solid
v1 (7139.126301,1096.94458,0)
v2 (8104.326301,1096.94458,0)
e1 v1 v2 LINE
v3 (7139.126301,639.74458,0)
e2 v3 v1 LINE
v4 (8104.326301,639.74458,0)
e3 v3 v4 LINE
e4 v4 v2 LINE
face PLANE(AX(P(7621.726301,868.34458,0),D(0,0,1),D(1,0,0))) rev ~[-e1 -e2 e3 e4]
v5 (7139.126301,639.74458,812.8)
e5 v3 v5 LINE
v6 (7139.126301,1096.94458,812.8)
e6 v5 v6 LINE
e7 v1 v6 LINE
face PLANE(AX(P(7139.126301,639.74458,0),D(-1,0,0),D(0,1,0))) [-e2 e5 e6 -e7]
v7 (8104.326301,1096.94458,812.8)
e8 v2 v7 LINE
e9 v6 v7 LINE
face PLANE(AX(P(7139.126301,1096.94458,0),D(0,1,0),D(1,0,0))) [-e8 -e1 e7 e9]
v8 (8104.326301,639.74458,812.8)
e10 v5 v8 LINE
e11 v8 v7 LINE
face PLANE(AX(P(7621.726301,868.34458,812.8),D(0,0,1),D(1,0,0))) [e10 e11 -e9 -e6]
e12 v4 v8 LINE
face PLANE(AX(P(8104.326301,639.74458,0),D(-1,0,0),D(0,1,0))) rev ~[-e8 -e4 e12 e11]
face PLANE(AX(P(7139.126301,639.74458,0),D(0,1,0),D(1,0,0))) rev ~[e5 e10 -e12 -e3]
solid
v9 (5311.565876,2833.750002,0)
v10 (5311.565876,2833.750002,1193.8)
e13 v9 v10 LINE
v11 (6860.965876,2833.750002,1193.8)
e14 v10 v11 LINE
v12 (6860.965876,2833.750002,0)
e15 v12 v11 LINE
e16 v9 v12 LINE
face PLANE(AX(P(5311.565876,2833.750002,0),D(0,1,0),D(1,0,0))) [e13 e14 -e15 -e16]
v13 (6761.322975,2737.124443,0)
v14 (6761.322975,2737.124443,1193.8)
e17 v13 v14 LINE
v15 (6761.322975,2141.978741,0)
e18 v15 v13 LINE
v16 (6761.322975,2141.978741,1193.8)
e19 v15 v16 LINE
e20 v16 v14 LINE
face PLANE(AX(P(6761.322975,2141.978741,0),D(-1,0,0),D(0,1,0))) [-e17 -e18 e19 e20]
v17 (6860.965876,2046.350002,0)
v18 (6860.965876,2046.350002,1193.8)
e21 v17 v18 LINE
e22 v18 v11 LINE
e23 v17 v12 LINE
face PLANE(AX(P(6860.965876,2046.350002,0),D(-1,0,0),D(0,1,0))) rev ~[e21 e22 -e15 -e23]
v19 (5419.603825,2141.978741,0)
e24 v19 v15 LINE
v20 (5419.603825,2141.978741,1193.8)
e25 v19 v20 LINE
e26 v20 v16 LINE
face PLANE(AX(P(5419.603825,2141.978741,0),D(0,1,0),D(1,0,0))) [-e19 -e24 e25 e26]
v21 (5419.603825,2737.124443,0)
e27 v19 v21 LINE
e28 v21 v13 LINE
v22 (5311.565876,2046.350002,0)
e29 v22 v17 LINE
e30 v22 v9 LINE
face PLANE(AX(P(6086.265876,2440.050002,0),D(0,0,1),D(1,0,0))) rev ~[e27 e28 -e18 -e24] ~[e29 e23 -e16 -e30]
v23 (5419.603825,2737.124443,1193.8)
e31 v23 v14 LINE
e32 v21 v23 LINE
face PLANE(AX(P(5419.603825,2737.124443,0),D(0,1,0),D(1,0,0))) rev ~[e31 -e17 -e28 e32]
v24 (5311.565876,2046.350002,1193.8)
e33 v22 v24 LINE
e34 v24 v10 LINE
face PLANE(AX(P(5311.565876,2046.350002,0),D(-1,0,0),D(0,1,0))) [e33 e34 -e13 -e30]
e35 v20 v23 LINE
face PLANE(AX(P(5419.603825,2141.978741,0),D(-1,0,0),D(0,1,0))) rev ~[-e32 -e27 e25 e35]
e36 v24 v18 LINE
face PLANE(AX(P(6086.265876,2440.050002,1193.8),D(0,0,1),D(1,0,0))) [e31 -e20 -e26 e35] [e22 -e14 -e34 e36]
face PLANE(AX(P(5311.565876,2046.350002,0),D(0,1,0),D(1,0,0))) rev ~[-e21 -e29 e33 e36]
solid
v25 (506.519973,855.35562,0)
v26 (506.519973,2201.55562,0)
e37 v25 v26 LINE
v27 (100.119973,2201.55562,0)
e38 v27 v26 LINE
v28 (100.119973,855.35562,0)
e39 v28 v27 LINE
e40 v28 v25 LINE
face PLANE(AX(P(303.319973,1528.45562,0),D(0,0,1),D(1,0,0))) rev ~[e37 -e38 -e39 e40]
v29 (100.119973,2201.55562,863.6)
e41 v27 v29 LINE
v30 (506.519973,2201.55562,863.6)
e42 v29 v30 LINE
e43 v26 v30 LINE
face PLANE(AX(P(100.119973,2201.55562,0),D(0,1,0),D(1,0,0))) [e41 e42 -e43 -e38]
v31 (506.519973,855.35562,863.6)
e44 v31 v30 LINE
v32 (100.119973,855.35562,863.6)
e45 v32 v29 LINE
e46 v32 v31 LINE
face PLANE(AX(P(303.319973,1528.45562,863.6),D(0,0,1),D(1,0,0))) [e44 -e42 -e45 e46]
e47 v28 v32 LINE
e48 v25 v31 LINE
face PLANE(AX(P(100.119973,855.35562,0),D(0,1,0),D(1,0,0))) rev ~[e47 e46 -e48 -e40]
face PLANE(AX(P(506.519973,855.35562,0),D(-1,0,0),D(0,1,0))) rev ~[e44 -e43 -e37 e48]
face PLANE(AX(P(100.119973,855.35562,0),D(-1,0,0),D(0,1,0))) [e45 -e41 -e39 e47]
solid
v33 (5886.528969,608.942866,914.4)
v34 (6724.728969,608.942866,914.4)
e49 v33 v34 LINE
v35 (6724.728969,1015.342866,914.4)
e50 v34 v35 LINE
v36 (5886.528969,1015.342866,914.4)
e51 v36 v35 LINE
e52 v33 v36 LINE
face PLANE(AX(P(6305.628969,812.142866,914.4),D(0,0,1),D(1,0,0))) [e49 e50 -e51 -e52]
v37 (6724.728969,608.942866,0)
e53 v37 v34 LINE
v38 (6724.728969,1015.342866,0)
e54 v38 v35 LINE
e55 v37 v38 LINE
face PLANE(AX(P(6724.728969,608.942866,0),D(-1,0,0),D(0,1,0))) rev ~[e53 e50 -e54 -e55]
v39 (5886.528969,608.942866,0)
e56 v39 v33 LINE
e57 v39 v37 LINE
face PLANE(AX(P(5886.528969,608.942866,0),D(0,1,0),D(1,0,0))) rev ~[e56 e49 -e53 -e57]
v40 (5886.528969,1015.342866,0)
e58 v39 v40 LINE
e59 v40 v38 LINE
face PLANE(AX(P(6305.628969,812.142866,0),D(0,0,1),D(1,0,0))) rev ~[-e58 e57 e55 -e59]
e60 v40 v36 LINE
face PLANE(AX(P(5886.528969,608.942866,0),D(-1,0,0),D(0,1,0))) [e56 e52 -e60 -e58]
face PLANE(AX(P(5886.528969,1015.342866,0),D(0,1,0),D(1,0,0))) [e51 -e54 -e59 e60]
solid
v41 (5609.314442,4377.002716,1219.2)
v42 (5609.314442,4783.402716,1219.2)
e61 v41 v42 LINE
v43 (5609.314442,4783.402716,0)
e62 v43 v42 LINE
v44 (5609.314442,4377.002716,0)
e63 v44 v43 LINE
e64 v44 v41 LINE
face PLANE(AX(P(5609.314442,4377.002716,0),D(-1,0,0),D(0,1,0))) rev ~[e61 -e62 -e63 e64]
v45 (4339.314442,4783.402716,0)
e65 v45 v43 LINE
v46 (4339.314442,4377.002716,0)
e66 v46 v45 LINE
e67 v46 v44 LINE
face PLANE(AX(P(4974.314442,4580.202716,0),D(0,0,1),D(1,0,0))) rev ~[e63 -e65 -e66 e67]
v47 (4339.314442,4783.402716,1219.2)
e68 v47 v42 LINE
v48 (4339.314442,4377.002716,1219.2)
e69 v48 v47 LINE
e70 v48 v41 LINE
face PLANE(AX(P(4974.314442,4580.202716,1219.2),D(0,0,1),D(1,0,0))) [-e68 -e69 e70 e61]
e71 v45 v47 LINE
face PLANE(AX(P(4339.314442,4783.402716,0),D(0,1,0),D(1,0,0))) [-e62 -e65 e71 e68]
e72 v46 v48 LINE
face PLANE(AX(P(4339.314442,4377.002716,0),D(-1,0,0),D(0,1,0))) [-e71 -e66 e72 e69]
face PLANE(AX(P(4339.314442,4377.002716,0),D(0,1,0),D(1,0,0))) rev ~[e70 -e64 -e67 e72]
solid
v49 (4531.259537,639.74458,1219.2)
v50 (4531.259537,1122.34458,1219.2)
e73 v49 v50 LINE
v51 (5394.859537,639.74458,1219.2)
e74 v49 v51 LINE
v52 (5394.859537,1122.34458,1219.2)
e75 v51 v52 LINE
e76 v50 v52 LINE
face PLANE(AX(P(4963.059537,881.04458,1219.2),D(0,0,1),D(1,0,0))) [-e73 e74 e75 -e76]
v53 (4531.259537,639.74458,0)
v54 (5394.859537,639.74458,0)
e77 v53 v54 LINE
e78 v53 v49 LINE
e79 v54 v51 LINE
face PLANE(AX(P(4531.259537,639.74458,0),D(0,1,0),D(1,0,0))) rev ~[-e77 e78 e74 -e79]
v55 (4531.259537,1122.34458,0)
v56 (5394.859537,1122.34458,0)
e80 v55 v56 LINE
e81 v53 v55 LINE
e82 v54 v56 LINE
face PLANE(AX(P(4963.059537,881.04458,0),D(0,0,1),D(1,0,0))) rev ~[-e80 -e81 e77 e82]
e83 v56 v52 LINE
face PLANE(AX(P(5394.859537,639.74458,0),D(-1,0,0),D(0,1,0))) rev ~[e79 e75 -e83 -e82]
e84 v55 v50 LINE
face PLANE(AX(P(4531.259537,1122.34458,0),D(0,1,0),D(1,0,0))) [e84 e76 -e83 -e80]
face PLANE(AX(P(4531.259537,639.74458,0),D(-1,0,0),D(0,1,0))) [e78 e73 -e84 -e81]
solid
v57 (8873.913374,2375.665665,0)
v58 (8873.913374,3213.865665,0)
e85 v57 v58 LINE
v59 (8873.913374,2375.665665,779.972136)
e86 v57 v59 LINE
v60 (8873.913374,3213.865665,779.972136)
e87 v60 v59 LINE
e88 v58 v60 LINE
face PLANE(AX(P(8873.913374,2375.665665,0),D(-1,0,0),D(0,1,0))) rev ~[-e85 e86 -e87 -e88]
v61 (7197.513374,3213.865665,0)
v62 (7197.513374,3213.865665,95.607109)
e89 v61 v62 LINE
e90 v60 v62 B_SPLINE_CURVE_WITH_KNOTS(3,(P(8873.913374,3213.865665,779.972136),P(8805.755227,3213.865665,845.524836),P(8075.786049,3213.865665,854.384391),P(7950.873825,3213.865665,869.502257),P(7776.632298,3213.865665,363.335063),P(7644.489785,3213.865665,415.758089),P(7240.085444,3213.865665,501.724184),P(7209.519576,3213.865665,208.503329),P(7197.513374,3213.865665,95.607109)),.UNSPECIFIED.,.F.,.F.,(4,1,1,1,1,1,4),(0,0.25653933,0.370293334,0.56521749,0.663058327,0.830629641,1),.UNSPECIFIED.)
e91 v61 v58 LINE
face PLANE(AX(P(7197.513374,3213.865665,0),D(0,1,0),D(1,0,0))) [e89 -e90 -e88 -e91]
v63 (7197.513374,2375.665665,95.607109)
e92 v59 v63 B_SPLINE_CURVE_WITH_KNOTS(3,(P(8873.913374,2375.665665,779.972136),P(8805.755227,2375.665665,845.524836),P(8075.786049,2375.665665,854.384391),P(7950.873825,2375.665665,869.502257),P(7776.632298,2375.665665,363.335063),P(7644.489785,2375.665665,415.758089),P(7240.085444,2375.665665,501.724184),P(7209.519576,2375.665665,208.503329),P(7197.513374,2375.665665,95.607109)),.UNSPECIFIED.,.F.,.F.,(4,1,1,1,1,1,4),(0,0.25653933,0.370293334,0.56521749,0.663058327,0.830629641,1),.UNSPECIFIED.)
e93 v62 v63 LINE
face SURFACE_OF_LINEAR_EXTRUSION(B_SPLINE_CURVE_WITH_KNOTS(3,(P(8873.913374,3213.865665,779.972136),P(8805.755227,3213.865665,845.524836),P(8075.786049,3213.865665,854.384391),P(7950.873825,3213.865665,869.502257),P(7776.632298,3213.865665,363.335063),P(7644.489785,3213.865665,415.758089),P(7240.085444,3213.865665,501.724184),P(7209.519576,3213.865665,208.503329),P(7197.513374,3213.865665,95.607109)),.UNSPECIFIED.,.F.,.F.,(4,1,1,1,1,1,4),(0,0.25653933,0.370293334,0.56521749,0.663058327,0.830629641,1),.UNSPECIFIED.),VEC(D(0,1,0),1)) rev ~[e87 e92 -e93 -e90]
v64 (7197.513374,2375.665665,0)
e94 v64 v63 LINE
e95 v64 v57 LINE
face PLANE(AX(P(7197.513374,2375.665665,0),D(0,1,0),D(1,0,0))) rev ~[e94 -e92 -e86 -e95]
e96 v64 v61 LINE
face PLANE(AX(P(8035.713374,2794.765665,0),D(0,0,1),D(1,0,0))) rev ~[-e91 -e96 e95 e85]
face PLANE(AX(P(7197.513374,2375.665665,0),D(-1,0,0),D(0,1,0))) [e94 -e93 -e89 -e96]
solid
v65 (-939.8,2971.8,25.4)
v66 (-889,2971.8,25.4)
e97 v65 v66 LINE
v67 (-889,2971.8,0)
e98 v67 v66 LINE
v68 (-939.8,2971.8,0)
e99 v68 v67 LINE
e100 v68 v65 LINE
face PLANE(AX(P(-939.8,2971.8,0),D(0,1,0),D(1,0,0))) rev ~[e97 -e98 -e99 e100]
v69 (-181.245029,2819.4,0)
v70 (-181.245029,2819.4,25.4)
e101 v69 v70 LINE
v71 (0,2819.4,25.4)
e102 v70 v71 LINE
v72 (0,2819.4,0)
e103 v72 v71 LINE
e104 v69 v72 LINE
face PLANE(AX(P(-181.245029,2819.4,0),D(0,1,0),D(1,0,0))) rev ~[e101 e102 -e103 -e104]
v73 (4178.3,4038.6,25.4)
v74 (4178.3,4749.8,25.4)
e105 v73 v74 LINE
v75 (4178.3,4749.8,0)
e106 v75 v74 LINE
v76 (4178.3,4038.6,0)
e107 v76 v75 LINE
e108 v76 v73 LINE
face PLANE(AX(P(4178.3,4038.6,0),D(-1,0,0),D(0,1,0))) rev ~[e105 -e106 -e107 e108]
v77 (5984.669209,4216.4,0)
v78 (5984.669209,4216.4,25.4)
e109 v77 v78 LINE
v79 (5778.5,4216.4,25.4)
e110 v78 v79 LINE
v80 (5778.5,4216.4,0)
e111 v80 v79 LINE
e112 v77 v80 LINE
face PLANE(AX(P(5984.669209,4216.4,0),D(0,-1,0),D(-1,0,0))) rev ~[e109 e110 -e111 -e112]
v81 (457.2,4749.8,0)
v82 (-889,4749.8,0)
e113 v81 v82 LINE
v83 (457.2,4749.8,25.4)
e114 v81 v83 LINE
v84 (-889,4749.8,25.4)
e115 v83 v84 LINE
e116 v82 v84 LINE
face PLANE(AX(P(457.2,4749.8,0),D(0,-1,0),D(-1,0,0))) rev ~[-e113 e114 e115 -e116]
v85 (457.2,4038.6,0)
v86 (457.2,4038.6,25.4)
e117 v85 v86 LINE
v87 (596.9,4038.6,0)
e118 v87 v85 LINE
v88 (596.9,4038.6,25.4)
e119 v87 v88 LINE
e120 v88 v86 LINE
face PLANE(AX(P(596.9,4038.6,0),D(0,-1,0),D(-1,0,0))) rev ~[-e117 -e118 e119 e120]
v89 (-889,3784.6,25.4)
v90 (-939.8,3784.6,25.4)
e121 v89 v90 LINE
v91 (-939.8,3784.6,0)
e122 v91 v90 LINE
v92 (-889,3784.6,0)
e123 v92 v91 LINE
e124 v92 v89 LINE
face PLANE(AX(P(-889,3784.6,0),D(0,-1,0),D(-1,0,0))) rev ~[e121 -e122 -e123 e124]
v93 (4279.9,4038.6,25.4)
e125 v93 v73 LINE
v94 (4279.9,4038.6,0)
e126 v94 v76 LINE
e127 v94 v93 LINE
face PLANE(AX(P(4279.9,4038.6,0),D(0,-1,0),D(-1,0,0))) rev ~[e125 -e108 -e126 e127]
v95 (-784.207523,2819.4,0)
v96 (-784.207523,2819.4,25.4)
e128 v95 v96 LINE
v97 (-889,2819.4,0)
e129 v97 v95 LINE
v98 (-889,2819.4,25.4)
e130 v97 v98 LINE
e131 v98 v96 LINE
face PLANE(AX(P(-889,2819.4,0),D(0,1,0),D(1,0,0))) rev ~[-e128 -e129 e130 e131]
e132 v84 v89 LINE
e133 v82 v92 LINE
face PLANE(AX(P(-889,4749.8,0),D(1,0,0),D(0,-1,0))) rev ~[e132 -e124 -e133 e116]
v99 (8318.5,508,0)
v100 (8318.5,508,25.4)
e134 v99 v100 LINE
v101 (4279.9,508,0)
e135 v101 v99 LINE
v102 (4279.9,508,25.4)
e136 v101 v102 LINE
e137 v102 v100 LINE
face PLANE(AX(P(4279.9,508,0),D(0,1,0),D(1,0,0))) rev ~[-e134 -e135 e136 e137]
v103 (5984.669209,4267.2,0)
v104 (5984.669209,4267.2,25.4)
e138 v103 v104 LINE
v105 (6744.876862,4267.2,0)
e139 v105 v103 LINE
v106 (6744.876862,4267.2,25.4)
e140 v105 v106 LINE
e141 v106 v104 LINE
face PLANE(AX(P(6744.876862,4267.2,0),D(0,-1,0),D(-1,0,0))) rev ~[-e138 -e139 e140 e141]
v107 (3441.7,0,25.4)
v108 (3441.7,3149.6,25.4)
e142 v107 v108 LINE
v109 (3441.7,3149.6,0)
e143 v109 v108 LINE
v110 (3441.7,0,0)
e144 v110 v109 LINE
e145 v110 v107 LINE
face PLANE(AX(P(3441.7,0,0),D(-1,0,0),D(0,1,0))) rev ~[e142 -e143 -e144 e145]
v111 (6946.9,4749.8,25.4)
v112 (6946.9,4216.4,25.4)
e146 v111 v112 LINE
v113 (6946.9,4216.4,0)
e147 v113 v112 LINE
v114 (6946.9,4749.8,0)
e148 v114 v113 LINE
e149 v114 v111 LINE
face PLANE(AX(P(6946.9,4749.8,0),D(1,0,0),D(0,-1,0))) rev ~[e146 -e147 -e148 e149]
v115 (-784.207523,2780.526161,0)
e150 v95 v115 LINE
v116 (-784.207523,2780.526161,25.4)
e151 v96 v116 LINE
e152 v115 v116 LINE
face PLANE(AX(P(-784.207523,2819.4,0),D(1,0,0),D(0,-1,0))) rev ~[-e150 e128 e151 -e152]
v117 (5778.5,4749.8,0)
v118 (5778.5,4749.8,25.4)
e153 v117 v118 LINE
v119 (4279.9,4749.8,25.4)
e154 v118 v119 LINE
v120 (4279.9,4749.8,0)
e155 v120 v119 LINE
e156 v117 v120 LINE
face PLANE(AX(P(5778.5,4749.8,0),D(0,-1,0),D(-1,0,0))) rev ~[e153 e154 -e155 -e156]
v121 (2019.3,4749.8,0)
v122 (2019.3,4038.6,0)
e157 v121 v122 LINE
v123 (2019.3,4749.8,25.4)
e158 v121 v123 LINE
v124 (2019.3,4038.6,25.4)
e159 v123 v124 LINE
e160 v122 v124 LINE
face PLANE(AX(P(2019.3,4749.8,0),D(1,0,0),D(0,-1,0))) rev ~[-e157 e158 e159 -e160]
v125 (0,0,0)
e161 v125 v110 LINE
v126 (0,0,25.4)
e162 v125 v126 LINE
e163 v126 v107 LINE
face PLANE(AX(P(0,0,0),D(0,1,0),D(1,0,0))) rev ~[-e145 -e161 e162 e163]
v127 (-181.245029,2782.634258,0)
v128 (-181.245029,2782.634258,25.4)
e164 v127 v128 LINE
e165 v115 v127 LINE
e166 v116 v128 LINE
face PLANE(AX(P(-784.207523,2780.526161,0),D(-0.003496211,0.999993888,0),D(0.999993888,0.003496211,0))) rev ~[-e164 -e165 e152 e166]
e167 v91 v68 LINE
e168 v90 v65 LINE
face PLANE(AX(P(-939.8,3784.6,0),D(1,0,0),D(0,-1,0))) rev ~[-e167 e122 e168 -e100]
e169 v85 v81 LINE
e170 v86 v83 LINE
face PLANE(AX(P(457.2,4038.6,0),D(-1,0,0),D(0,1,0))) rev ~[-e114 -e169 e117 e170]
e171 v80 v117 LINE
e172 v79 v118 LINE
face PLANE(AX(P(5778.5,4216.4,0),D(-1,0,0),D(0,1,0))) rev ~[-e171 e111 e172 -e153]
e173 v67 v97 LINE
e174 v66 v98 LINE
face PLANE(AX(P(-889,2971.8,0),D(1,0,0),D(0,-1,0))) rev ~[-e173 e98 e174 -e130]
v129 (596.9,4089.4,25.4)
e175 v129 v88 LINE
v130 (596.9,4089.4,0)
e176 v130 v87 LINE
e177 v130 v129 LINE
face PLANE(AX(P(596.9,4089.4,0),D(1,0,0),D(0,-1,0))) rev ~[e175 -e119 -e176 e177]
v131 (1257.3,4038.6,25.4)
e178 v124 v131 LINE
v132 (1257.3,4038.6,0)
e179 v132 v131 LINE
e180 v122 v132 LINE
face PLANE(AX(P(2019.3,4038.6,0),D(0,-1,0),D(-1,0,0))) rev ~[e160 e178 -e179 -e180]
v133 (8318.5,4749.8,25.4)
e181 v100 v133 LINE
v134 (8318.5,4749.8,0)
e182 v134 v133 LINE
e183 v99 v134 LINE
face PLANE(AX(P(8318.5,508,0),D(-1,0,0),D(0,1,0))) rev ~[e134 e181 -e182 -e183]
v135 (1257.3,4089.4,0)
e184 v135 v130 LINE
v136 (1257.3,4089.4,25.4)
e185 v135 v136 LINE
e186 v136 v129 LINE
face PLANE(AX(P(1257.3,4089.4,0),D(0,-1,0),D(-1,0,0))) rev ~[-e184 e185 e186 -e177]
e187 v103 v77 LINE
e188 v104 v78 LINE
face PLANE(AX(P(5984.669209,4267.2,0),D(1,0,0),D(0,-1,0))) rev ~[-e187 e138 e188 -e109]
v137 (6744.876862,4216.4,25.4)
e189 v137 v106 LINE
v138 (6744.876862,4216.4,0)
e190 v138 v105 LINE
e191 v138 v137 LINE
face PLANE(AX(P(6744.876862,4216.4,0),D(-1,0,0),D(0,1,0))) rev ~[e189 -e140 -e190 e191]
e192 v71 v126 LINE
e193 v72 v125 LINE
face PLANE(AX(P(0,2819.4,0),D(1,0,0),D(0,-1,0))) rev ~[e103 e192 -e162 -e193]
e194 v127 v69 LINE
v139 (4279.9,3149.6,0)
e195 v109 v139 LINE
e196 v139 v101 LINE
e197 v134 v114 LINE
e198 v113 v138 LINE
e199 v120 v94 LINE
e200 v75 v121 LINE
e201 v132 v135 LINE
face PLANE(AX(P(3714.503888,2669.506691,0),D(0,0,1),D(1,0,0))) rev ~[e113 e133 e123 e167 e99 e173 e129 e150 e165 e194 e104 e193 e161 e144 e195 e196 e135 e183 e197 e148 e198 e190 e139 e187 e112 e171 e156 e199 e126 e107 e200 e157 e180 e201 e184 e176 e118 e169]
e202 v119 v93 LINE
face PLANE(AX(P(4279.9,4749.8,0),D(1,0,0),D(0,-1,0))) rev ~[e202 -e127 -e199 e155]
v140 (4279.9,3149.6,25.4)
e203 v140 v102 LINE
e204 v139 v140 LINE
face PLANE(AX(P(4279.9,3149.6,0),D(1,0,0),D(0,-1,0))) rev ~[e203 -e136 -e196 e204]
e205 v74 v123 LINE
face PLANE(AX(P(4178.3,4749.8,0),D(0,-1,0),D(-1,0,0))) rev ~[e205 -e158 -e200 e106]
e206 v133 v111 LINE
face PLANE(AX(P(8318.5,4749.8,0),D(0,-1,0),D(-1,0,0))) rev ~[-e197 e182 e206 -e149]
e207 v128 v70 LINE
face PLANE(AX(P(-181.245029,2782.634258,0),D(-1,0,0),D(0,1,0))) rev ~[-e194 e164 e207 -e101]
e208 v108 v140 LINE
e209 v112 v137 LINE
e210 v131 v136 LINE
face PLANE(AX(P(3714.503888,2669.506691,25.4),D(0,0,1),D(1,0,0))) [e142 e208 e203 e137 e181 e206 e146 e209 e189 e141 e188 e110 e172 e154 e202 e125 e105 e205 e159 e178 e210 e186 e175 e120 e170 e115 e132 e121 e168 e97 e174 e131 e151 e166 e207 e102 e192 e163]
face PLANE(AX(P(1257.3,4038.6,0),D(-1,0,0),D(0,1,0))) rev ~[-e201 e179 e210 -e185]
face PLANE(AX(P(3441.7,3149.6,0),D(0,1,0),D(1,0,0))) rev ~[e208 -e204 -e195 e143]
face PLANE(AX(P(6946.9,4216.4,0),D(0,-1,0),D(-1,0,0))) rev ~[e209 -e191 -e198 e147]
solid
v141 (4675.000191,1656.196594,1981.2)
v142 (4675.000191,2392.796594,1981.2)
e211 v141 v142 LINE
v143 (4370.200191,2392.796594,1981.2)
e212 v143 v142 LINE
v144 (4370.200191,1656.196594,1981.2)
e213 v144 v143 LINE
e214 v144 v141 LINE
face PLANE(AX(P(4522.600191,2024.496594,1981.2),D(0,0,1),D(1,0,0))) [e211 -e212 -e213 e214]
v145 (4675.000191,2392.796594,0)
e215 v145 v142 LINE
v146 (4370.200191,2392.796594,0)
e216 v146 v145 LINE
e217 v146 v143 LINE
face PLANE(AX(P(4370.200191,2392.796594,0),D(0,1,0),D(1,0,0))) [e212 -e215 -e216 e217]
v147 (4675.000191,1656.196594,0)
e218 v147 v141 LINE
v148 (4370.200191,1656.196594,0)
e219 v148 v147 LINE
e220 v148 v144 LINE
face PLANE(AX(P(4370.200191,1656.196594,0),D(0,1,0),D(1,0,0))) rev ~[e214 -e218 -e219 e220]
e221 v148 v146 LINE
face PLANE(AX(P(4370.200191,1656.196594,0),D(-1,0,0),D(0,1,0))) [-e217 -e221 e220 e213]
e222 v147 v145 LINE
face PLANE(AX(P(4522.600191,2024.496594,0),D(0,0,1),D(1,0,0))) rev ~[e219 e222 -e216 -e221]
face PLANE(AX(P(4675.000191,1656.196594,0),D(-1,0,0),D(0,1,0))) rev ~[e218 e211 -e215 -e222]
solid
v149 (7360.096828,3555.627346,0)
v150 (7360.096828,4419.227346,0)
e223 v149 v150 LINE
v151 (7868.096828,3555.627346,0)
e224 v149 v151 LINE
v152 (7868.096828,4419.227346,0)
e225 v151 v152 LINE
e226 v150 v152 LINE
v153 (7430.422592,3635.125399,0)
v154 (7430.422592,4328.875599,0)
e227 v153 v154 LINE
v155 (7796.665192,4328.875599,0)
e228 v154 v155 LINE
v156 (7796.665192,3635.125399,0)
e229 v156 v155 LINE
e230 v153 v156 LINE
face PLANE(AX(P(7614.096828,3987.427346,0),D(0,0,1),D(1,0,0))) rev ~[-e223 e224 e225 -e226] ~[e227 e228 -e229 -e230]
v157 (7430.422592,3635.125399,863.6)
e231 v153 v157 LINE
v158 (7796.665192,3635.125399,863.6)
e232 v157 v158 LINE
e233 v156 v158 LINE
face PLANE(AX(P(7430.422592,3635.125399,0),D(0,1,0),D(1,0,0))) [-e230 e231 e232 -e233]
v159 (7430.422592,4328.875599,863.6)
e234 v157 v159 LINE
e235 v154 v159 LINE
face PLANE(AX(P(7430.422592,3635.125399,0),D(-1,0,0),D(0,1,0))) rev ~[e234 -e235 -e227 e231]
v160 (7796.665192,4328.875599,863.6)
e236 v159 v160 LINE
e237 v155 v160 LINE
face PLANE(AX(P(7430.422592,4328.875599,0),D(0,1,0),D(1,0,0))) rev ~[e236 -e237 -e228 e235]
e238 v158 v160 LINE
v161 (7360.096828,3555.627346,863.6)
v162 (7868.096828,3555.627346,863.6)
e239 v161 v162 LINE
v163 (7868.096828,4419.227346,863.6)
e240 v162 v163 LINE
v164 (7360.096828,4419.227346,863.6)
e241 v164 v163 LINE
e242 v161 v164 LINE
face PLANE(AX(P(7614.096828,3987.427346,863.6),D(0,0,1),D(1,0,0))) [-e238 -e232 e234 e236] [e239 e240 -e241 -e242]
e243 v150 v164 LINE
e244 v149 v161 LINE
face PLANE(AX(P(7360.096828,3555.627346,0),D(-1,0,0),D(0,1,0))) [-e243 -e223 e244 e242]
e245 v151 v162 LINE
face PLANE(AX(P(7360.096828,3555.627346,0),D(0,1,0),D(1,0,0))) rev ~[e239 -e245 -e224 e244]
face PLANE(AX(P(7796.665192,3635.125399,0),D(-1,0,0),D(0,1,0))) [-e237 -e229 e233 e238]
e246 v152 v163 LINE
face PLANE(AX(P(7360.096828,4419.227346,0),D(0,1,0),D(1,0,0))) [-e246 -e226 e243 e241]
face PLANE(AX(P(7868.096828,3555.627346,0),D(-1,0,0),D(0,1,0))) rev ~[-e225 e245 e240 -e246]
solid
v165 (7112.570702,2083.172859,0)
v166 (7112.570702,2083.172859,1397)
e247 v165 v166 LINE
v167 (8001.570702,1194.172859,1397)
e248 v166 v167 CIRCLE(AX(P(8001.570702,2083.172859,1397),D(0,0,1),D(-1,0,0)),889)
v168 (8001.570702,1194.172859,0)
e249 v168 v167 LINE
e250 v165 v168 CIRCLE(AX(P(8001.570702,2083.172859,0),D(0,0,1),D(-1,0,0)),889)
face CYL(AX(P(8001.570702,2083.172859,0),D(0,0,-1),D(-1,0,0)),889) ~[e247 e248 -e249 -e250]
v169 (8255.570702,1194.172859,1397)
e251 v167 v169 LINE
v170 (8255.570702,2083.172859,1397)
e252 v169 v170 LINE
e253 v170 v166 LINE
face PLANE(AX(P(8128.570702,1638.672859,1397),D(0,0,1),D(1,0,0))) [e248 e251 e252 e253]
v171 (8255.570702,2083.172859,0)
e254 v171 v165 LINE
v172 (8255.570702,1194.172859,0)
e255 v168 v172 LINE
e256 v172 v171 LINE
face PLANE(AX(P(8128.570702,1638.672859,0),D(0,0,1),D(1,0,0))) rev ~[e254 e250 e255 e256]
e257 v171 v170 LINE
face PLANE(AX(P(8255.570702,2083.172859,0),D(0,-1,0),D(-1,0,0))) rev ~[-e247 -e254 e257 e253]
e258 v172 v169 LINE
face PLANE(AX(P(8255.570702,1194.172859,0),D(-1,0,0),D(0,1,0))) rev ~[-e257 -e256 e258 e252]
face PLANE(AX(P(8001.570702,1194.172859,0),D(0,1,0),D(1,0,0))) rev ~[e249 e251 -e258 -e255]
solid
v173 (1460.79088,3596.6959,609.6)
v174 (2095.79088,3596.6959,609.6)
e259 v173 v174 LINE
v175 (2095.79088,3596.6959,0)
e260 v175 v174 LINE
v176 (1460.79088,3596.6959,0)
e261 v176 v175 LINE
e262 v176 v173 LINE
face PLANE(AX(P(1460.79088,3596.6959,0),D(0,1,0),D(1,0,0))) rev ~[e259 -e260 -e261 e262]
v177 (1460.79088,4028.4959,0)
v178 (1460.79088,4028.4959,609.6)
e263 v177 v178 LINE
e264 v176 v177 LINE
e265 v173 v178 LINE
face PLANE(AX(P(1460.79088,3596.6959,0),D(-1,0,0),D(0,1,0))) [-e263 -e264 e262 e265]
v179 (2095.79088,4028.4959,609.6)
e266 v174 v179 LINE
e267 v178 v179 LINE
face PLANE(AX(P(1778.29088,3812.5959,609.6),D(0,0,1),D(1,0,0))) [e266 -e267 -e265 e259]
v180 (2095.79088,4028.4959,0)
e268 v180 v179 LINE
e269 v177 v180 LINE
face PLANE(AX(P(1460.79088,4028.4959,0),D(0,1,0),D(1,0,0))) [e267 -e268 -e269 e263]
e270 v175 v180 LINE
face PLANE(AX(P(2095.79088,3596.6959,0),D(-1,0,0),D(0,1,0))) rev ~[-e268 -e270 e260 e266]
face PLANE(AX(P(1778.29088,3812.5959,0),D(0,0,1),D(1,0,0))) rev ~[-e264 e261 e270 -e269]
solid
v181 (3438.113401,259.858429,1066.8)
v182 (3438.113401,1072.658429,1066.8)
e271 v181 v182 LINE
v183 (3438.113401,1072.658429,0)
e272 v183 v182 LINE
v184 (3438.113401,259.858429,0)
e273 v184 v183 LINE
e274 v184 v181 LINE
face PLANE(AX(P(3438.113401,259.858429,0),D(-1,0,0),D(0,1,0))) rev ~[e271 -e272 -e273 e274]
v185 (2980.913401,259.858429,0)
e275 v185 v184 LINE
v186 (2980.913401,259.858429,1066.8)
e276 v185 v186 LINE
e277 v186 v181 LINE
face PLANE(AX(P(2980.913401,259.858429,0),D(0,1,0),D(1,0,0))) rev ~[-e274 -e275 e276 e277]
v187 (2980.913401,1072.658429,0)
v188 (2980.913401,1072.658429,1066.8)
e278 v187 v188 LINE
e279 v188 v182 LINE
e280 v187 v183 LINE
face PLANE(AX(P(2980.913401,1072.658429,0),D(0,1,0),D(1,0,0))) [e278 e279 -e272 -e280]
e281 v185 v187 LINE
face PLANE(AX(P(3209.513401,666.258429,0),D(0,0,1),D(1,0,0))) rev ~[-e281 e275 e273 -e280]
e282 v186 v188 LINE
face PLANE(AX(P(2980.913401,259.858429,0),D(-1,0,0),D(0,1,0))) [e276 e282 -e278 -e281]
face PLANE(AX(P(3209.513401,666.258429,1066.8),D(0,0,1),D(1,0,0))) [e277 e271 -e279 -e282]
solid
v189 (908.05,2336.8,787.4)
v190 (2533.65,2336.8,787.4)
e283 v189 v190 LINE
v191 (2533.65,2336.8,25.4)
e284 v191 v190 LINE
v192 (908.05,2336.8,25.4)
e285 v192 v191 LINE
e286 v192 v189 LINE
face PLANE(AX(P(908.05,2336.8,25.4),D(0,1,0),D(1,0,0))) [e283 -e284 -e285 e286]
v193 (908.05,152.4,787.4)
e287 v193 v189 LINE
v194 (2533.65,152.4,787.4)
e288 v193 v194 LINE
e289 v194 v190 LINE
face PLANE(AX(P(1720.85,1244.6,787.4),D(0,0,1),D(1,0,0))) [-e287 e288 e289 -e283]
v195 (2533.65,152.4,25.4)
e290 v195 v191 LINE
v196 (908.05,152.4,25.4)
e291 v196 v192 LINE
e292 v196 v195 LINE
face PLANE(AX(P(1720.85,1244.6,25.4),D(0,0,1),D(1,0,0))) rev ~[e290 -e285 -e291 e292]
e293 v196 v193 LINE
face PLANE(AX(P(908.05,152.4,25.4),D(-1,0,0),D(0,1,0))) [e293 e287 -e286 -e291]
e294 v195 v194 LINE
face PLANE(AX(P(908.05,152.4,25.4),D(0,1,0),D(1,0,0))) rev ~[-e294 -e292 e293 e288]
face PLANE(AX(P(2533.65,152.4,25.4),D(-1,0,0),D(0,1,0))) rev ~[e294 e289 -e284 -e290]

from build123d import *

# Parameters (mm, degrees)
F1_DEPTH  = 25.4
F2_W      = 1625.6
F2_H      = 2184.4
F3_DEPTH  = 762
F4_W      = 1270
F4_H      = 406.4
F5_DEPTH  = 1219.2
F6_W      = 965.2
F6_H      = 457.2
F7_DEPTH  = 812.8
F8_W      = 254
F8_H      = 889
F9_DEPTH  = 1397
F10_W     = 863.6
F10_H     = 482.6
F11_DEPTH = 1219.2
F12_W     = 635
F12_H     = 431.8
F13_DEPTH = 609.6
F14_W     = 304.8
F14_H     = 736.6
F15_DEPTH = 1981.2
F16_W     = 457.2
F16_H     = 812.8
F17_DEPTH = 1066.8
F18_W     = 406.4
F18_H     = 1346.2
F19_DEPTH = 863.6
F20_W     = 838.2
F20_H     = 406.4
F21_DEPTH = 914.4
F22_W     = 1549.4
F22_H     = 787.4
F22_W_2   = 1341.7191505432
F22_H_2   = 595.1457023621
F23_DEPTH = 1193.8
F24_W     = 508
F24_H     = 863.6
F24_W_2   = 366.2426
F24_H_2   = 693.7502
F25_DEPTH = 863.6
F26_W     = 1676.4
F26_H     = 838.2
F27_DEPTH = 914.4
F29_DEPTH = 838.2


with BuildPart() as f1:
    # F0 (on Top) → F1 (new body)
    with BuildSketch(Plane.XY):
        Polygon((0, 2717.8), (0, 0), (3441.7, 0), (3441.7, 3048), (3441.7, 3149.6), (3543.3, 3149.6), (4178.3, 3149.6), (4279.9, 3149.6), (4279.9, 3048), (4279.9, 508), (8318.5, 508), (8318.5, 4749.8), (6946.9, 4749.8), (6946.9, 4216.4), (6845.3, 4216.4), (6744.8768615723, 4216.4), (6744.8768615723, 4267.2), (5984.6692085266, 4267.2), (5984.6692085266, 4216.4), (5880.1, 4216.4), (5778.5, 4216.4), (5778.5, 4318), (5778.5, 4749.8), (4279.9, 4749.8), (4279.9, 4038.6), (4178.3, 4038.6), (4178.3, 4749.8), (2019.3, 4749.8), (2019.3, 4140.2), (2019.3, 4038.6), (1917.7, 4038.6), (1485.9, 4038.6), (1397, 4038.6), (1295.4, 4038.6), (1257.3, 4038.6), (1257.3, 4089.4), (596.9, 4089.4), (596.9, 4038.6), (558.8, 4038.6), (457.2, 4038.6), (457.2, 4749.8), (-889, 4749.8), (-889, 4495.8), (-889, 3784.6), (-939.8, 3784.6), (-939.8, 2971.8), (-889, 2971.8), (-889, 2819.4), (-784.2075228691, 2819.4), (-784.2075228691, 2780.5261611938), (-181.2450289726, 2782.6342582703), (-181.2450289726, 2819.4), (-101.6, 2819.4), (0, 2819.4), align=None)
    extrude(amount=F1_DEPTH)


with BuildPart() as f3:
    # F2 (on face) → F3 (new body)
    with BuildSketch(Plane.XY.offset(25.4)):
        with Locations((1720.85, 1244.6)):
            Rectangle(F2_W, F2_H)
    extrude(amount=F3_DEPTH)


with BuildPart() as f5:
    # F4 (on Top) → F5 (new body)
    with BuildSketch(Plane.XY):
        with Locations((4974.3144416809, 4580.2027160645)):
            Rectangle(F4_W, F4_H)
    extrude(amount=F5_DEPTH)


with BuildPart() as f7:
    # F6 (on Top) → F7 (new body)
    with BuildSketch(Plane.XY):
        with Locations((7621.7263008118, 868.344579792)):
            Rectangle(F6_W, F6_H)
    extrude(amount=F7_DEPTH)


with BuildPart() as f9:
    # F8 (on Top) → F9 (new body)
    with BuildSketch(Plane.XY):
        with Locations((8128.5707015991, 1638.6728591919)):
            Rectangle(F8_W, F8_H)
        with BuildLine():
            ThreePointArc((7112.5707015991, 2083.1728591919), (7372.9527731243, 1454.5549307171), (8001.5707015991, 1194.1728591919))
            Line((8001.5707015991, 1194.1728591919), (8001.5707015991, 2083.1728591919))
            Line((8001.5707015991, 2083.1728591919), (7112.5707015991, 2083.1728591919))
        make_face()
    extrude(amount=F9_DEPTH)


with BuildPart() as f11:
    # F10 (on Top) → F11 (new body)
    with BuildSketch(Plane.XY):
        with Locations((4963.0595367432, 881.044579792)):
            Rectangle(F10_W, F10_H)
    extrude(amount=F11_DEPTH)


with BuildPart() as f13:
    # F12 (on Top) → F13 (new body)
    with BuildSketch(Plane.XY):
        with Locations((1778.290880394, 3812.5958999634)):
            Rectangle(F12_W, F12_H)
    extrude(amount=F13_DEPTH)


with BuildPart() as f15:
    # F14 (on Top) → F15 (new body)
    with BuildSketch(Plane.XY):
        with Locations((4522.6001907349, 2024.4965942383)):
            Rectangle(F14_W, F14_H)
    extrude(amount=F15_DEPTH)


with BuildPart() as f17:
    # F16 (on Top) → F17 (new body)
    with BuildSketch(Plane.XY):
        with Locations((3209.51340065, 666.2584294319)):
            Rectangle(F16_W, F16_H)
    extrude(amount=F17_DEPTH)


with BuildPart() as f19:
    # F18 (on Top) → F19 (new body)
    with BuildSketch(Plane.XY):
        with Locations((303.319973278, 1528.4556203842)):
            Rectangle(F18_W, F18_H)
    extrude(amount=F19_DEPTH)


with BuildPart() as f21:
    # F20 (on Top) → F21 (new body)
    with BuildSketch(Plane.XY):
        with Locations((6305.628968811, 812.1428663254)):
            Rectangle(F20_W, F20_H)
    extrude(amount=F21_DEPTH)


with BuildPart() as f23:
    # F22 (on Top) → F23 (new body)
    with BuildSketch(Plane.XY):
        with Locations((6086.2658760071, 2440.0500022888)):
            Rectangle(F22_W, F22_H)
        with Locations((6090.4633998871, 2439.5515918732)):
            Rectangle(F22_W_2, F22_H_2, mode=Mode.SUBTRACT)
    extrude(amount=F23_DEPTH)


with BuildPart() as f25:
    # F24 (on Top) → F25 (new body)
    with BuildSketch(Plane.XY):
        with Locations((7614.0968284607, 3987.4273460388)):
            Rectangle(F24_W, F24_H)
        with Locations((7613.5438916504, 3982.0004986359)):
            Rectangle(F24_W_2, F24_H_2, mode=Mode.SUBTRACT)
    extrude(amount=F25_DEPTH)


with BuildPart() as f27:
    # F26 (on Top) → F27 (new body)
    with BuildSketch(Plane.XY):
        with Locations((8035.7133743286, 2794.7656646729)):
            Rectangle(F26_W, F26_H)
    extrude(amount=F27_DEPTH)

    # F28 (on face) → F29 (cut, through all)
    with BuildSketch(Plane(origin=(0, 3213.8656646729, 0), x_dir=(-1, 0, 0), z_dir=(0, 1, 0))):
        with BuildLine():
            Line((-8873.9133743286, 914.4), (-8873.9133743286, 779.9721360207))
            add(Edge.make_bspline(
                [(-8873.9133743286, 779.9721360207), (-8805.7552267889, 845.5248363303), (-8075.7860491427, 854.3843914375), (-7950.8738247225, 869.5022571575), (-7776.6322981899, 363.3350625902), (-7644.4897854288, 415.7580891444), (-7240.0854441812, 501.7241843801), (-7209.5195755059, 208.5033285965), (-7197.5133743286, 95.6071093678)],
                knots=[0, 0, 0, 0, 0.2565393304, 0.3702933341, 0.5652174897, 0.6630583267, 0.8306296411, 1, 1, 1, 1], degree=3))
            Line((-7197.5133743286, 95.6071093678), (-7197.5133743286, 914.4))
            Line((-7197.5133743286, 914.4), (-8873.9133743286, 914.4))
        make_face()
    extrude(amount=-F29_DEPTH, mode=Mode.SUBTRACT)


solid = Compound([f1.part, f3.part, f5.part, f7.part, f9.part, f11.part, f13.part, f15.part, f17.part, f19.part, f21.part, f23.part, f25.part, f27.part])
